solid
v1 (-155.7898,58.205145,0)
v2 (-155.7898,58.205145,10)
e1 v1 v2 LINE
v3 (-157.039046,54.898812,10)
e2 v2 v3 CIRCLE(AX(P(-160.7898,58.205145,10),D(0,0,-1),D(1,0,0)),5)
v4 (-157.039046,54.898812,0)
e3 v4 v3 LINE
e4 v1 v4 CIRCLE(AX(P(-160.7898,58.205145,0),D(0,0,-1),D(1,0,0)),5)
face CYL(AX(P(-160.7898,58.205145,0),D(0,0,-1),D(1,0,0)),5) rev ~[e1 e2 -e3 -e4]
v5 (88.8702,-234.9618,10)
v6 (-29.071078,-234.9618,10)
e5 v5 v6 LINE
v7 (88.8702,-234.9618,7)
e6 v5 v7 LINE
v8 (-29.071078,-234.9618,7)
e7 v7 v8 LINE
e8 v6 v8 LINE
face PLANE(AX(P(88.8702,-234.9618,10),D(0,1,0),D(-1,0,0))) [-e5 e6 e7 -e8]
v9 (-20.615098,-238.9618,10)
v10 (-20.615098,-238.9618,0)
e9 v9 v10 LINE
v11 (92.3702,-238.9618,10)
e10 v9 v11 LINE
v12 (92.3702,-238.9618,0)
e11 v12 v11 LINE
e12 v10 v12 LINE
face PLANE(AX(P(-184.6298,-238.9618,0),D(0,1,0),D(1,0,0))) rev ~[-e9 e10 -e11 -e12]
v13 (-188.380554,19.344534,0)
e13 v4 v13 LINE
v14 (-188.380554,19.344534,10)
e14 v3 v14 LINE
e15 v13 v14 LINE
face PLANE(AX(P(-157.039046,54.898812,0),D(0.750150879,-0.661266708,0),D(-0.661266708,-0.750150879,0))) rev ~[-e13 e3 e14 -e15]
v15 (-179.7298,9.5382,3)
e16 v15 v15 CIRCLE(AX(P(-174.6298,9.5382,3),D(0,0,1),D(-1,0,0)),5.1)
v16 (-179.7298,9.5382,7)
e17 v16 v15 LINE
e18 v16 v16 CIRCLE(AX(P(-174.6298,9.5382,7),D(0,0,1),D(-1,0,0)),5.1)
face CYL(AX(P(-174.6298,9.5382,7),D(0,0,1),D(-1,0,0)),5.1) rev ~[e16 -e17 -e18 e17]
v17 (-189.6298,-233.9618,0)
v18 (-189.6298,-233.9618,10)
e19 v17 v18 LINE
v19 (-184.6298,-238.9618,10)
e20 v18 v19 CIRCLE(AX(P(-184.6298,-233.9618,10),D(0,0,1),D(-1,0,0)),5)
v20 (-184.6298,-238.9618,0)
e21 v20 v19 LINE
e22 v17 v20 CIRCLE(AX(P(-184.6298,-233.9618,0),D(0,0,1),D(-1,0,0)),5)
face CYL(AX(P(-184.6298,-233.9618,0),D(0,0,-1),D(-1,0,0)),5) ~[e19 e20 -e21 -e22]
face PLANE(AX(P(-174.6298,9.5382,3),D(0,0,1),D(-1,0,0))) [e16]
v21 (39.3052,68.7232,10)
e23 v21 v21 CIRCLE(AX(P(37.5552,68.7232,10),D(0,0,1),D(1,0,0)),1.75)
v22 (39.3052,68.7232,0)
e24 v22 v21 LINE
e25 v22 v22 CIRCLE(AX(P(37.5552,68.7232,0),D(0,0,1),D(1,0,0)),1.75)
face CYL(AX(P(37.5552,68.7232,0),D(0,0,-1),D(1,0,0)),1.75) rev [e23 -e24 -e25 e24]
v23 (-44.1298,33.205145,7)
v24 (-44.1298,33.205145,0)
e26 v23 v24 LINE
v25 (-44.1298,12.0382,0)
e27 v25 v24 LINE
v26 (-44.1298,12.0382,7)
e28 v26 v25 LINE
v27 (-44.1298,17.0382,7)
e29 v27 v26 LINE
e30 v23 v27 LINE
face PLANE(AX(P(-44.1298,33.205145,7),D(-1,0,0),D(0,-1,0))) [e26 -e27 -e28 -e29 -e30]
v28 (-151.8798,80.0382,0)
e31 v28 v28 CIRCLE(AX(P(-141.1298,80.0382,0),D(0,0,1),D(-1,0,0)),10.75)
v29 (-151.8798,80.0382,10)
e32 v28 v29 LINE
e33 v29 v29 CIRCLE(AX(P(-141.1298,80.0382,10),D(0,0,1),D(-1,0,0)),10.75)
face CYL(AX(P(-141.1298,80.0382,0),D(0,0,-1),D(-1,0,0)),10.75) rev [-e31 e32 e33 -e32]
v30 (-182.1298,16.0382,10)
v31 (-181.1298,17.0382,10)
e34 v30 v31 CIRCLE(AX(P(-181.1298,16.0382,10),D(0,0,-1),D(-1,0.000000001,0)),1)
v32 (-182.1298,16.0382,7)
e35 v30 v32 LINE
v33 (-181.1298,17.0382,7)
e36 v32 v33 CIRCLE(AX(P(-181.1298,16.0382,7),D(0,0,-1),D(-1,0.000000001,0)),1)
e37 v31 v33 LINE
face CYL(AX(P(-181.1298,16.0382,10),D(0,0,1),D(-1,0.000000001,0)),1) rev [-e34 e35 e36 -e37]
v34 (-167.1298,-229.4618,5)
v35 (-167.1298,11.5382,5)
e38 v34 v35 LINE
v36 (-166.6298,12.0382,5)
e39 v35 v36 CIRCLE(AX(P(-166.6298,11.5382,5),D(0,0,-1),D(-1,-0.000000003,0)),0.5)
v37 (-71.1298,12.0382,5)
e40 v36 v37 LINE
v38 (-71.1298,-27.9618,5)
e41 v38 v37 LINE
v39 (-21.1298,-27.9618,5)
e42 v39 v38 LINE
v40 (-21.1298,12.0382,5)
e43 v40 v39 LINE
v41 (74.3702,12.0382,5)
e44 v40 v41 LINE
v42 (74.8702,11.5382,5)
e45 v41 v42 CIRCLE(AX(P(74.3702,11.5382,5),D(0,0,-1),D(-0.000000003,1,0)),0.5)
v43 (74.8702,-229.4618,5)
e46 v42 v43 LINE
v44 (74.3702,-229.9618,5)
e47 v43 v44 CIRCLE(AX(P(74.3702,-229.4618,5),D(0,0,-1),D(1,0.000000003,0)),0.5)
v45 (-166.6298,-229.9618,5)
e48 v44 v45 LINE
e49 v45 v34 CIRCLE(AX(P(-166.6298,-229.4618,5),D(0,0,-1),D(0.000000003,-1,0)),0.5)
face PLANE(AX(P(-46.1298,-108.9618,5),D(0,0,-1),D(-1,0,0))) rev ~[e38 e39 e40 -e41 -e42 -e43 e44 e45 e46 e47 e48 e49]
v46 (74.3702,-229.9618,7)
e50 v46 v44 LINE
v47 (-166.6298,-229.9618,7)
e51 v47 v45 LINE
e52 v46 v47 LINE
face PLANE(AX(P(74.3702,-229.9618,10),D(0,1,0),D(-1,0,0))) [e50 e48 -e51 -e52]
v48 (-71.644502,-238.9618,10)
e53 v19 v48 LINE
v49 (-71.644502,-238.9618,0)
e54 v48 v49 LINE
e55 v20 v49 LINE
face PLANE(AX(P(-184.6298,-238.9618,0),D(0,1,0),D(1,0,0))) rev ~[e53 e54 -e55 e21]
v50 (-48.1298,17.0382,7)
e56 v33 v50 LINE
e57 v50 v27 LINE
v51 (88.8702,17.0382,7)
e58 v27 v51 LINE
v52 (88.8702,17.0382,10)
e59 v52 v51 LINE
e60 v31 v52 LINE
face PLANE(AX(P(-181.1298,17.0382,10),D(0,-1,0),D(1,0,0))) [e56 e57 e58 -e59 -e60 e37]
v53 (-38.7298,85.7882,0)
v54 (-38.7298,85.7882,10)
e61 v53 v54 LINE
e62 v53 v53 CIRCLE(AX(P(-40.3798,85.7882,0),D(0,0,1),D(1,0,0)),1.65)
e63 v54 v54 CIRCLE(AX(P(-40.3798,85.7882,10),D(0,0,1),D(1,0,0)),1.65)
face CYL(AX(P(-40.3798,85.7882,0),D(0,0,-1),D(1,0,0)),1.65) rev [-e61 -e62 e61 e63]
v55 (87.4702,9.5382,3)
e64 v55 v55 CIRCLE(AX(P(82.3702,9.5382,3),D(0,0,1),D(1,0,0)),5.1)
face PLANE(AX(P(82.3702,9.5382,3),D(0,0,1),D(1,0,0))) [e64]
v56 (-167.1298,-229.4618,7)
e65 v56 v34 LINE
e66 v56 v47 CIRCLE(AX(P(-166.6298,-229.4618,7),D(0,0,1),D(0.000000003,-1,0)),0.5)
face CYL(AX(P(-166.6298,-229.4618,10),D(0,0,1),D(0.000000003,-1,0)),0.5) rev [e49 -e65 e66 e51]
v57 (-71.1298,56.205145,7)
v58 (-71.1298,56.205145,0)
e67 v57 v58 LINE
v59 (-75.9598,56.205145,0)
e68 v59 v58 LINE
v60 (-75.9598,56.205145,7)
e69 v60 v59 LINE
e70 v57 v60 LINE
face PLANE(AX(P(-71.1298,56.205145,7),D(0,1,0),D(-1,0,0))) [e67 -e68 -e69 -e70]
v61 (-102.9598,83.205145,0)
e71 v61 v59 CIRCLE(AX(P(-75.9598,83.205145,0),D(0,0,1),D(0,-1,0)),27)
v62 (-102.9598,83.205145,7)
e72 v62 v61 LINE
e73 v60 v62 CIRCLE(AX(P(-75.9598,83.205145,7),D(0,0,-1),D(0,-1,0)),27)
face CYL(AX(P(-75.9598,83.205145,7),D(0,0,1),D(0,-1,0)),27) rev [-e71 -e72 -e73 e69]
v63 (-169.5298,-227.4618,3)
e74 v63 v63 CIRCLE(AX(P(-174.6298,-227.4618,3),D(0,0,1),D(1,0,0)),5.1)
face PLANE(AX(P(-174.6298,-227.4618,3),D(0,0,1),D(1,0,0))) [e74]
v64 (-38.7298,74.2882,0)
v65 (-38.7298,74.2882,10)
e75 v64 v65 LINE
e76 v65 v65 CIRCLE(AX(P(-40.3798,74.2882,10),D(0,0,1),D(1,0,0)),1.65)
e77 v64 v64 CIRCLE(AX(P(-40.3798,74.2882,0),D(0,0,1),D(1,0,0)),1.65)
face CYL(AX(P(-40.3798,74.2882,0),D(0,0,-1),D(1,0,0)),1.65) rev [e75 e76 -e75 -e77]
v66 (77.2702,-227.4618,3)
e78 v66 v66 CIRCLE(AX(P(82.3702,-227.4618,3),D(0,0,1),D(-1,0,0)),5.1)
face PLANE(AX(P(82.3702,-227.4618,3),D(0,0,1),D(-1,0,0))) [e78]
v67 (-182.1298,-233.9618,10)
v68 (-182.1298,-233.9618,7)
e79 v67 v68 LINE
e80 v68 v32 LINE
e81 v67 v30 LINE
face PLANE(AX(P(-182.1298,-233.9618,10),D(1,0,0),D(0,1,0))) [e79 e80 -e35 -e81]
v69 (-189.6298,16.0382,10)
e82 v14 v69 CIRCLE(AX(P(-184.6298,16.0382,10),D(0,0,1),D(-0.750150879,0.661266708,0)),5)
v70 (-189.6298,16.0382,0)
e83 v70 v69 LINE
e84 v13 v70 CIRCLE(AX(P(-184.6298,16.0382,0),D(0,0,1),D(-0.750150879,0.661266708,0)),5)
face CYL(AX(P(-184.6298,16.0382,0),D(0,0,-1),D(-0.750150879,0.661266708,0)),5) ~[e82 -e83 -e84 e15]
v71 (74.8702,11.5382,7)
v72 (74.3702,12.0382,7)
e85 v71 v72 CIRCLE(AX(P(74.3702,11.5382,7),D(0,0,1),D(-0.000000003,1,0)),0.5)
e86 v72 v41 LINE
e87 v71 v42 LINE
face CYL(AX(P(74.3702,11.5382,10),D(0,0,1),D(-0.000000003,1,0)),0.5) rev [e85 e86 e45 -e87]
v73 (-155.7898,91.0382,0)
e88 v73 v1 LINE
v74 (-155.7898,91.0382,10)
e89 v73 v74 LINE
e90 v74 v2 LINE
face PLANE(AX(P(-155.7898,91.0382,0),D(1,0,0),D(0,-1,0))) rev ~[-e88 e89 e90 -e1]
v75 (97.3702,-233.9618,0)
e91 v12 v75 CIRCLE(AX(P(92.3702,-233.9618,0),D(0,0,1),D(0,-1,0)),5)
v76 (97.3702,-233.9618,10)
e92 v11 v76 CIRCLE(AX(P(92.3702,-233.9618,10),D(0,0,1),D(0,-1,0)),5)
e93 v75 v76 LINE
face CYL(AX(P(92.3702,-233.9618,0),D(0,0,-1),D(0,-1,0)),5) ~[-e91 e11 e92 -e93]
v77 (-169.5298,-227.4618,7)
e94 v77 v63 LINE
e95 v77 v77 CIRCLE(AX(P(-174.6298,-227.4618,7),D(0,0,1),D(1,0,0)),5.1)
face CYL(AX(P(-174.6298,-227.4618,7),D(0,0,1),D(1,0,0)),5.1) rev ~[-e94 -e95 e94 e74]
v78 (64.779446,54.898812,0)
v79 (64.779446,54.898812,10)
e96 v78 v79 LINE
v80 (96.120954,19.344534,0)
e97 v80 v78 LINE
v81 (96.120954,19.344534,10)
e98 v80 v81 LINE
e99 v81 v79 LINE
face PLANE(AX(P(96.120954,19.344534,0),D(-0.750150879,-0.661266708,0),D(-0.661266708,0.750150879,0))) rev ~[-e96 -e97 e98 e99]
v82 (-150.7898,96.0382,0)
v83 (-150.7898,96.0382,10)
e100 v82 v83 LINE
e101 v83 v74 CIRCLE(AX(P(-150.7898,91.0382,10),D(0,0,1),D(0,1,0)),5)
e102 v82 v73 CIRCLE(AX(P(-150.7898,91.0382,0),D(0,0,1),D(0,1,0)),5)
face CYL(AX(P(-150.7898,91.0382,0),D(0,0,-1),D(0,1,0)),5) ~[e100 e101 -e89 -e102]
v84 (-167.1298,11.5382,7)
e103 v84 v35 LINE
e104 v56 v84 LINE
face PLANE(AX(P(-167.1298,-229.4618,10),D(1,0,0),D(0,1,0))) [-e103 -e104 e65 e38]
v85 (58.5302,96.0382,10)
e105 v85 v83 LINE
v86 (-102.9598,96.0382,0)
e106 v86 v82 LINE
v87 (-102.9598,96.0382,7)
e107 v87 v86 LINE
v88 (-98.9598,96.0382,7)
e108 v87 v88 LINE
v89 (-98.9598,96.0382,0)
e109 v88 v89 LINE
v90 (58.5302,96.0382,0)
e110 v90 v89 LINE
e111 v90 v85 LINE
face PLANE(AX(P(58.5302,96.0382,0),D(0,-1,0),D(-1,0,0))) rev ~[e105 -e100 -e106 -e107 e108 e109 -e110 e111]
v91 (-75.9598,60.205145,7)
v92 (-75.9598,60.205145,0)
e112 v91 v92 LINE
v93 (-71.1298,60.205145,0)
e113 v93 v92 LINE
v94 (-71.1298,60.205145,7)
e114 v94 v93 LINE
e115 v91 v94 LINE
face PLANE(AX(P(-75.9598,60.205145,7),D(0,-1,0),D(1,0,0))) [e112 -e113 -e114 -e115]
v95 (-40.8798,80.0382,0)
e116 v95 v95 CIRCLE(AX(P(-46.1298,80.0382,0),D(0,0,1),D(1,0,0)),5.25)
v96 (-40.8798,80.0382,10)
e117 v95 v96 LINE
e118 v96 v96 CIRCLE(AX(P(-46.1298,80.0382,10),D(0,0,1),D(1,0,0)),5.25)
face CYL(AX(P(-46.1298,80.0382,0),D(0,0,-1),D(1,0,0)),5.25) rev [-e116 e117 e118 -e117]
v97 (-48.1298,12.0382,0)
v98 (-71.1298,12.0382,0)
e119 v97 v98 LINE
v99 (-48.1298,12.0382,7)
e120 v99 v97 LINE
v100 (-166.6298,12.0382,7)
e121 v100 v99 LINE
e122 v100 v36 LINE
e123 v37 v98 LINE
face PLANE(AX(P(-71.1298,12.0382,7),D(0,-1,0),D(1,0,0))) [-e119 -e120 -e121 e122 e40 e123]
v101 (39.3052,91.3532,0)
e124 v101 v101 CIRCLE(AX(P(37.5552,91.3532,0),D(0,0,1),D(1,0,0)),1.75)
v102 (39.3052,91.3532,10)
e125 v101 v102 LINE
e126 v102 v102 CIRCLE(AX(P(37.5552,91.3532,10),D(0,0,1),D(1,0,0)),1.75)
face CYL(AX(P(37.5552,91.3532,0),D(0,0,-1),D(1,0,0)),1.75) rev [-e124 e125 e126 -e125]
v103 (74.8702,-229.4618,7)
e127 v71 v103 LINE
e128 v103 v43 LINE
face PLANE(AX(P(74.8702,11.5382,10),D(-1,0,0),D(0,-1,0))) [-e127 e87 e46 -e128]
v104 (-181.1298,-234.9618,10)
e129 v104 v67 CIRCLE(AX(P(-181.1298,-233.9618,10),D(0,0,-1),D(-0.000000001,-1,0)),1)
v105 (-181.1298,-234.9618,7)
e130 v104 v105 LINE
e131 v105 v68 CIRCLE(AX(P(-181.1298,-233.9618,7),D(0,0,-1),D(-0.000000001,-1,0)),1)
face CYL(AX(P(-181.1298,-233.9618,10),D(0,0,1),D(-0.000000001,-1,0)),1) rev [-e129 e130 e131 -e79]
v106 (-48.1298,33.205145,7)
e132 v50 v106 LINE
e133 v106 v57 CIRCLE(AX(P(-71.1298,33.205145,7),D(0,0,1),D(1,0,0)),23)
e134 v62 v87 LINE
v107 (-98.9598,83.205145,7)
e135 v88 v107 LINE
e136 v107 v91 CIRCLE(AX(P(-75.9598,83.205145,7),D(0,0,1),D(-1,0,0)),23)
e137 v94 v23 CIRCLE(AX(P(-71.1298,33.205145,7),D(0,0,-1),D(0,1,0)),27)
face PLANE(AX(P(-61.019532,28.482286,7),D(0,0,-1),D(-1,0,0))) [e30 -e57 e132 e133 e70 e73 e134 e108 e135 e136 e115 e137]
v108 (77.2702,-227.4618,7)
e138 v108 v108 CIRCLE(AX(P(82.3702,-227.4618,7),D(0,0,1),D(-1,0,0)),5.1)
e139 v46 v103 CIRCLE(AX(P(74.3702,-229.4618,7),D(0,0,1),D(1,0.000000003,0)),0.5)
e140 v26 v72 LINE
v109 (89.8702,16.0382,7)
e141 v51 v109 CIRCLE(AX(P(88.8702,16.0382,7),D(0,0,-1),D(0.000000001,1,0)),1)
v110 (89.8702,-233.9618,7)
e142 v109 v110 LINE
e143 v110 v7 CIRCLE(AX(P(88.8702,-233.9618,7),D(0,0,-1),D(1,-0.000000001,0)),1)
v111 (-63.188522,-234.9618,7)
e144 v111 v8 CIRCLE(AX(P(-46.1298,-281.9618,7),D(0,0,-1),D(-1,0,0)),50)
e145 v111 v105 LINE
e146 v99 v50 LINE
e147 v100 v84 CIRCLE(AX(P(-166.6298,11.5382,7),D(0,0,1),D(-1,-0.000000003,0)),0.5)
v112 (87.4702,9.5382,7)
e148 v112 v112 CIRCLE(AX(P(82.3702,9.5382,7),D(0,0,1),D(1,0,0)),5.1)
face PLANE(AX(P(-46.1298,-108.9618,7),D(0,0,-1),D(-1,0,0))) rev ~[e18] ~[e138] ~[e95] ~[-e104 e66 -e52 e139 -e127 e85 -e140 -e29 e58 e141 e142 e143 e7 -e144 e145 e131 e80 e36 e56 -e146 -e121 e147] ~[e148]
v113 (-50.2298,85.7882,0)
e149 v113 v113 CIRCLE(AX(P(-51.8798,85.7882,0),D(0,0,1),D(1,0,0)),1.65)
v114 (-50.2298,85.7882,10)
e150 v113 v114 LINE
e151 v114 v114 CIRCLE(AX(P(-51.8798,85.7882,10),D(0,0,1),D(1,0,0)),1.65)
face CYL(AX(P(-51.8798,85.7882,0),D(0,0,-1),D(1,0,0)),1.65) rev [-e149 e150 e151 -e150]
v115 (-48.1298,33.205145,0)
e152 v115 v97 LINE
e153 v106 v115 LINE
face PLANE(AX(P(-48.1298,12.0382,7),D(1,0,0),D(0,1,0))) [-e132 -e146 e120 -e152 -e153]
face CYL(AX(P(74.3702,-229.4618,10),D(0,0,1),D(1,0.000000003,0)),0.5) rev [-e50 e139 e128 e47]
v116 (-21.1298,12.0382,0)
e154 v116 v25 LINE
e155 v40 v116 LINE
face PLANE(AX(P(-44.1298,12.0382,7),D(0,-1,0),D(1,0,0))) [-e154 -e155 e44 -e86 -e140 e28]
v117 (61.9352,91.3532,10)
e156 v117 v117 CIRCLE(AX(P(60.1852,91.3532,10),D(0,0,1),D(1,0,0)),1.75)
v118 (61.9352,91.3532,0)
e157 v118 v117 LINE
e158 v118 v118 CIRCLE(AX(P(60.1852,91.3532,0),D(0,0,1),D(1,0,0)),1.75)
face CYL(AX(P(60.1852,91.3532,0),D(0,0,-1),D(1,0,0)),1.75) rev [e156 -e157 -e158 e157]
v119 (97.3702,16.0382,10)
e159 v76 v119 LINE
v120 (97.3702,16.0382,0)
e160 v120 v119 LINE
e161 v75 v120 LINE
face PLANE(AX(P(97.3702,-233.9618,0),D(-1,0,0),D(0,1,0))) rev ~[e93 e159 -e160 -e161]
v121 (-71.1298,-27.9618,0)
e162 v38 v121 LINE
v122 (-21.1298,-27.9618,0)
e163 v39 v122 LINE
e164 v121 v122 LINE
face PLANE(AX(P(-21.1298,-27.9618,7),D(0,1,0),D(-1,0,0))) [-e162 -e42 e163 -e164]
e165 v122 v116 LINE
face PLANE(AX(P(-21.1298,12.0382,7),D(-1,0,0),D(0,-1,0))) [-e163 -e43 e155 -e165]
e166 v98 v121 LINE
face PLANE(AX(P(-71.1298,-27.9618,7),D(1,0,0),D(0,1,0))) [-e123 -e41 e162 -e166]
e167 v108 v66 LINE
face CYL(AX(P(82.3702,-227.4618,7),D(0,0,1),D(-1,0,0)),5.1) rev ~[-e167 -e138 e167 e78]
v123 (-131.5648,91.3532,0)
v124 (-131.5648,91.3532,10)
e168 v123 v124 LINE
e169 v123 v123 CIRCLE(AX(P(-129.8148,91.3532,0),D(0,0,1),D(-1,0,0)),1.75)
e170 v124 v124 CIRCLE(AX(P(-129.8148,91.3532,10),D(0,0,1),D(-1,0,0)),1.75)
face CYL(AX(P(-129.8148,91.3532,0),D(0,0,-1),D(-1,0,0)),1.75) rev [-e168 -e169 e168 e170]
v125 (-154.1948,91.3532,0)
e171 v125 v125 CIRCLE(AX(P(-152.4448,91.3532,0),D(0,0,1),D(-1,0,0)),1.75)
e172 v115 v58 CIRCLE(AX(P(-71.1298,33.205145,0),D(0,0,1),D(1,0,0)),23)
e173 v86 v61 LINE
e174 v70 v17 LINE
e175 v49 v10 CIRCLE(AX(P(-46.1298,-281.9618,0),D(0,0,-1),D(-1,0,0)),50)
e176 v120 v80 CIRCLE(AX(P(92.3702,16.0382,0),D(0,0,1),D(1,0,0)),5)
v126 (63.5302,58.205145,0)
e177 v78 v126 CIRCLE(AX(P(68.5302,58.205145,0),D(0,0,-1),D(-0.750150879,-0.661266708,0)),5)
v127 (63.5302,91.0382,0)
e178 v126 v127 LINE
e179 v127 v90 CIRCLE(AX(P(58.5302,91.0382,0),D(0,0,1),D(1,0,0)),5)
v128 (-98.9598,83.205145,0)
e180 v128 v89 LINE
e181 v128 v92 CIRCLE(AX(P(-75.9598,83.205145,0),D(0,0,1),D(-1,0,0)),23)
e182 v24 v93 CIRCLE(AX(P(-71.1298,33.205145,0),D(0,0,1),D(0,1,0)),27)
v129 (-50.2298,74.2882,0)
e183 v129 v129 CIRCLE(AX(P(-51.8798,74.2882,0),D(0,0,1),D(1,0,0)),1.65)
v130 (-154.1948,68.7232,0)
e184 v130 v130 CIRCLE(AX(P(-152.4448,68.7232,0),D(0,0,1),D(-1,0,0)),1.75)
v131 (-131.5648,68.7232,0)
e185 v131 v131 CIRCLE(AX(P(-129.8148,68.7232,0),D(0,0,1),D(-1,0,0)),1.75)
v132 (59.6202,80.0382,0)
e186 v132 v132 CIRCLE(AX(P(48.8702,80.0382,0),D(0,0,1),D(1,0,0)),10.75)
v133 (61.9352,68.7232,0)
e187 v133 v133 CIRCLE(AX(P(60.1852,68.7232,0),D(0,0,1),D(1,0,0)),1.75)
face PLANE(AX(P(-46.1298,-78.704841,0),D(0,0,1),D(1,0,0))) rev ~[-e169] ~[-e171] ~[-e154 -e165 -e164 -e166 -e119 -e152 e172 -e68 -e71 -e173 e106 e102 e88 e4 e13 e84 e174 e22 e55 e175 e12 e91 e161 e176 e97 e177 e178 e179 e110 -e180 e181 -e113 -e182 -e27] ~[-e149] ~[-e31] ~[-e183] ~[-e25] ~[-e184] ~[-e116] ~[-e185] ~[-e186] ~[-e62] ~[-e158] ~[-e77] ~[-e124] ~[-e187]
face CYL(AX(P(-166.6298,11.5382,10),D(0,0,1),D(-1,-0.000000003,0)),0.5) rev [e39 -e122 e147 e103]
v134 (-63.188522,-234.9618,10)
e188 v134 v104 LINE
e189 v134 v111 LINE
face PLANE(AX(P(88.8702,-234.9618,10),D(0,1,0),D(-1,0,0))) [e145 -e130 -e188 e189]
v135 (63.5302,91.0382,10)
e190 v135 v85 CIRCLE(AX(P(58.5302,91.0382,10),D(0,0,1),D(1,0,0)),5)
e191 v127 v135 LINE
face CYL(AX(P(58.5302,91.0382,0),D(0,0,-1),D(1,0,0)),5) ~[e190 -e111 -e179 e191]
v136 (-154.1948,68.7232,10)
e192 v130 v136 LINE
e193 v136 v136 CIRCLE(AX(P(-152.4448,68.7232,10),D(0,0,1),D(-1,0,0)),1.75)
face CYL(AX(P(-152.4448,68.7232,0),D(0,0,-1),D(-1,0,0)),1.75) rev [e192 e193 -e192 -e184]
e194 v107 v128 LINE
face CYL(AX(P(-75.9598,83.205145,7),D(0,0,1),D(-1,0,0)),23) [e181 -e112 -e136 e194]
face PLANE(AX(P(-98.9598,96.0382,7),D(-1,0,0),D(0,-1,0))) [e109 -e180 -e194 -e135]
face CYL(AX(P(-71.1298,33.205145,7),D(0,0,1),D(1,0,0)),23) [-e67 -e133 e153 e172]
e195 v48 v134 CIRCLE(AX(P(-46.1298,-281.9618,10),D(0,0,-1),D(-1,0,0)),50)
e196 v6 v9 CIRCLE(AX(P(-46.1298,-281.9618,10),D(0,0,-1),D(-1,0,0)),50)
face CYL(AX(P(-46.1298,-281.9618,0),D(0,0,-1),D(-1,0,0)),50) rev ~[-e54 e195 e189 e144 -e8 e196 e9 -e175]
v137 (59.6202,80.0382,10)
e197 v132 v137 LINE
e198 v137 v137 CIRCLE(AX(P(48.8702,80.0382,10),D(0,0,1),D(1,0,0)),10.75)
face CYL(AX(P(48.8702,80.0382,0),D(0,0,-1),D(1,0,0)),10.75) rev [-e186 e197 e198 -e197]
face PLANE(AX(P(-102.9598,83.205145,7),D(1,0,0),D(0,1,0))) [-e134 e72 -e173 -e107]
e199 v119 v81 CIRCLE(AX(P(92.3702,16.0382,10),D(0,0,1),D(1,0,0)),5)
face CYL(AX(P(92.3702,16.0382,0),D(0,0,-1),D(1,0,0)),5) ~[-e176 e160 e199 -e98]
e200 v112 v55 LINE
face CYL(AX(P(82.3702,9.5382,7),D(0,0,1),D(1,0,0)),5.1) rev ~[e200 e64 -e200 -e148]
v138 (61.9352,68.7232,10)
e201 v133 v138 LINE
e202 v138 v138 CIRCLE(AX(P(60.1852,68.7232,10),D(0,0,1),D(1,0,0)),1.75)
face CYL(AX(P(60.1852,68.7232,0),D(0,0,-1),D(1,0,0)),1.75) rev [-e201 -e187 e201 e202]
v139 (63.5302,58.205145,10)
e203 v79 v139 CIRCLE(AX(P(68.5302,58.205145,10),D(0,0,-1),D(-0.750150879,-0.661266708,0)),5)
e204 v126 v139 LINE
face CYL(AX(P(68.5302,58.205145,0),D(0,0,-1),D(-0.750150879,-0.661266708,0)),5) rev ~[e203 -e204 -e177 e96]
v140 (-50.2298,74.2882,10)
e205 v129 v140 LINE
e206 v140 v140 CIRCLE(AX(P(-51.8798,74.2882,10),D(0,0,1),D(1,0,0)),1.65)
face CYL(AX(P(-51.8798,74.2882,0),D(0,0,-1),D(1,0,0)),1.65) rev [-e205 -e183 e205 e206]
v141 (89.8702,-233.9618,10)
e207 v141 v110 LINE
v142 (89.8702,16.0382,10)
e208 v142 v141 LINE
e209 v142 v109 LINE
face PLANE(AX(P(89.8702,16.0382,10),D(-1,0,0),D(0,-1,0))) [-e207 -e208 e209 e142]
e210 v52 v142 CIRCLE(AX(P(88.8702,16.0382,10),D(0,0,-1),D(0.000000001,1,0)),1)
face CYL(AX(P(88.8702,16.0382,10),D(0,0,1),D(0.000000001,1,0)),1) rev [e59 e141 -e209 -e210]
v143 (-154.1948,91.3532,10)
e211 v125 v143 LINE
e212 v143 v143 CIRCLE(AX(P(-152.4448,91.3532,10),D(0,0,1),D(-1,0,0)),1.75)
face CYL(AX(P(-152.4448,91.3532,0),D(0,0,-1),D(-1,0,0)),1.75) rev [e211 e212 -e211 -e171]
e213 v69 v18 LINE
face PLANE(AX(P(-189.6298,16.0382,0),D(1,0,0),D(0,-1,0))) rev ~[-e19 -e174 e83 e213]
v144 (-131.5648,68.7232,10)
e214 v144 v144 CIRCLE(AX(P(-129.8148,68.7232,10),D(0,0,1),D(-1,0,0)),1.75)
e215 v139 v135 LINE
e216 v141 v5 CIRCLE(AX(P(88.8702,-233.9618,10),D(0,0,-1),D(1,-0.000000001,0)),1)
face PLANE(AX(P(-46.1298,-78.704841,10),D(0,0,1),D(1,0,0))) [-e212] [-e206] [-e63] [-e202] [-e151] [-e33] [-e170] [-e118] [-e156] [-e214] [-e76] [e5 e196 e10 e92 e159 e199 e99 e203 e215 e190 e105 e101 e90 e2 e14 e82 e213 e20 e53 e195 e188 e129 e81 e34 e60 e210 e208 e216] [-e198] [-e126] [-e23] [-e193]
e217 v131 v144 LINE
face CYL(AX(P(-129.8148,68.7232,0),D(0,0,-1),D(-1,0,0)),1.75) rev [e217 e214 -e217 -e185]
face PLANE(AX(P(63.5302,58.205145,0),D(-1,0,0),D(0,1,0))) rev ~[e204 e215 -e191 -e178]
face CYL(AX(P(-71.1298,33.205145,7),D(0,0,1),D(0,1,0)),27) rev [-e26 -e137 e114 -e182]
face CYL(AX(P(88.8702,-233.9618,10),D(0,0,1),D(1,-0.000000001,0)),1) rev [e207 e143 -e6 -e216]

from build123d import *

# Parameters (mm, degrees)
MODEL_R                 = 10.75
MODEL_R_2               = 1.75
MODEL_R_3               = 5.25
MODEL_R_4               = 1.65
SALIENTE_EXTRUIR1_DEPTH = 10
CORTAR_EXTRUIR1_DEPTH   = 5
CORTAR_EXTRUIR2_DEPTH   = 3
CROQUIS3_R              = 5.1
CORTAR_EXTRUIR3_DEPTH   = 4
CORTAR_EXTRUIR4_REACH   = 307.225
CROQUIS4_R              = 50
CORTAR_EXTRUIR5_REACH   = 307.141


with BuildPart() as part:
    # Model → Saliente-Extruir1 (new body)
    with BuildSketch(Plane.XY):
        with BuildLine():
            Line((-155.7898, 91.0382), (-155.7898, 58.205145042))
            ThreePointArc((-155.7898, 58.205145042), (-156.112526651, 56.437911606), (-157.039045607, 54.898811501))
            Line((-157.039045607, 54.898811501), (-188.380554393, 19.344533541))
            ThreePointArc((-188.380554393, 19.344533541), (-189.307073349, 17.805433436), (-189.6298, 16.0382))
            Line((-189.6298, 16.0382), (-189.6298, -233.9618))
            ThreePointArc((-189.6298, -233.9618), (-188.165333906, -237.497333906), (-184.6298, -238.9618))
            Line((-184.6298, -238.9618), (92.3702, -238.9618))
            ThreePointArc((92.3702, -238.9618), (95.905733906, -237.497333906), (97.3702, -233.9618))
            Line((97.3702, -233.9618), (97.3702, 16.0382))
            ThreePointArc((97.3702, 16.0382), (97.047473349, 17.805433436), (96.120954393, 19.344533541))
            Line((96.120954393, 19.344533541), (64.779445607, 54.898811501))
            ThreePointArc((64.779445607, 54.898811501), (63.852926651, 56.437911606), (63.5302, 58.205145042))
            Line((63.5302, 58.205145042), (63.5302, 91.0382))
            ThreePointArc((63.5302, 91.0382), (62.065733906, 94.573733906), (58.5302, 96.0382))
            Line((58.5302, 96.0382), (-150.7898, 96.0382))
            ThreePointArc((-150.7898, 96.0382), (-154.325333906, 94.573733906), (-155.7898, 91.0382))
        make_face()
        with Locations((48.8702, 80.0382)):
            Circle(MODEL_R, mode=Mode.SUBTRACT)
        with Locations((37.5552, 68.7232)):
            Circle(MODEL_R_2, mode=Mode.SUBTRACT)
        with Locations((60.1852, 68.7232)):
            Circle(MODEL_R_2, mode=Mode.SUBTRACT)
        with Locations((60.1852, 91.3532)):
            Circle(MODEL_R_2, mode=Mode.SUBTRACT)
        with Locations((37.5552, 91.3532)):
            Circle(MODEL_R_2, mode=Mode.SUBTRACT)
        with Locations(Location((-129.8148, 91.3532, 0), (0, 0, 180))):
            Circle(MODEL_R_2, mode=Mode.SUBTRACT)
        with Locations(Location((-152.4448, 91.3532, 0), (0, 0, 180))):
            Circle(MODEL_R_2, mode=Mode.SUBTRACT)
        with Locations(Location((-152.4448, 68.7232, 0), (0, 0, 180))):
            Circle(MODEL_R_2, mode=Mode.SUBTRACT)
        with Locations(Location((-129.8148, 68.7232, 0), (0, 0, 180))):
            Circle(MODEL_R_2, mode=Mode.SUBTRACT)
        with Locations(Location((-141.1298, 80.0382, 0), (0, 0, 180))):
            Circle(MODEL_R, mode=Mode.SUBTRACT)
        with Locations((-46.1298, 80.0382)):
            Circle(MODEL_R_3, mode=Mode.SUBTRACT)
        with Locations((-51.8798, 85.7882)):
            Circle(MODEL_R_4, mode=Mode.SUBTRACT)
        with Locations((-40.3798, 85.7882)):
            Circle(MODEL_R_4, mode=Mode.SUBTRACT)
        with Locations((-40.3798, 74.2882)):
            Circle(MODEL_R_4, mode=Mode.SUBTRACT)
        with Locations((-51.8798, 74.2882)):
            Circle(MODEL_R_4, mode=Mode.SUBTRACT)
    extrude(amount=SALIENTE_EXTRUIR1_DEPTH)

    # Croquis1 → Cortar-Extruir1 (cut)
    with BuildSketch(Plane.XY.offset(10)):
        with BuildLine():
            Line((-167.1298, -229.4618), (-167.1298, 11.5382))
            ThreePointArc((-167.1298, 11.5382), (-166.983353391, 11.891753391), (-166.6298, 12.0382))
            Line((-166.6298, 12.0382), (74.3702, 12.0382))
            ThreePointArc((74.3702, 12.0382), (74.723753391, 11.891753391), (74.8702, 11.5382))
            Line((74.8702, 11.5382), (74.8702, -229.4618))
            ThreePointArc((74.8702, -229.4618), (74.723753391, -229.815353391), (74.3702, -229.9618))
            Line((74.3702, -229.9618), (-166.6298, -229.9618))
            ThreePointArc((-166.6298, -229.9618), (-166.983353391, -229.815353391), (-167.1298, -229.4618))
        make_face()
    extrude(amount=-CORTAR_EXTRUIR1_DEPTH, mode=Mode.SUBTRACT)

    # Croquis2 → Cortar-Extruir2 (cut)
    with BuildSketch(Plane.XY.offset(10)):
        with BuildLine():
            Line((-182.1298, -233.9618), (-182.1298, 16.0382))
            ThreePointArc((-182.1298, 16.0382), (-181.836906781, 16.745306781), (-181.1298, 17.0382))
            Line((-181.1298, 17.0382), (88.8702, 17.0382))
            ThreePointArc((88.8702, 17.0382), (89.577306781, 16.745306781), (89.8702, 16.0382))
            Line((89.8702, 16.0382), (89.8702, -233.9618))
            ThreePointArc((89.8702, -233.9618), (89.577306781, -234.668906781), (88.8702, -234.9618))
            Line((88.8702, -234.9618), (-181.1298, -234.9618))
            ThreePointArc((-181.1298, -234.9618), (-181.836906781, -234.668906781), (-182.1298, -233.9618))
        make_face()
    extrude(amount=-CORTAR_EXTRUIR2_DEPTH, mode=Mode.SUBTRACT)

    # Croquis3 → Cortar-Extruir3 (cut)
    with BuildSketch(Plane.XY.offset(7)):
        with Locations((-174.6298, -227.4618)):
            Circle(CROQUIS3_R)
        with Locations(Location((82.3702, -227.4618, 0), (0, 0, 180))):
            Circle(CROQUIS3_R)
        with Locations(Location((-174.6298, 9.5382, 0), (0, 0, 180))):
            Circle(CROQUIS3_R)
        with Locations((82.3702, 9.5382)):
            Circle(CROQUIS3_R)
    extrude(amount=-CORTAR_EXTRUIR3_DEPTH, mode=Mode.SUBTRACT)

    # Croquis4 → Cortar-Extruir4 (cut, up to next)
    with BuildSketch(Plane(origin=(0, 0, 0), x_dir=(-1, 0, 0), z_dir=(0, 0, -1)), mode=Mode.PRIVATE) as cortar_extruir4_sk1:
        with Locations((46.1298, -281.9618)):
            Circle(CROQUIS4_R)
    cortar_extruir4_tool1 = extrude(cortar_extruir4_sk1.sketch, amount=-CORTAR_EXTRUIR4_REACH, mode=Mode.PRIVATE) & part.part
    add(cortar_extruir4_tool1.solids().sort_by_distance((-46.1298, -281.9618, 0))[0], mode=Mode.SUBTRACT)

    # Croquis5 → Cortar-Extruir5 (cut, up to next)
    with BuildSketch(Plane.XY.offset(7), mode=Mode.PRIVATE) as cortar_extruir5_sk1:
        with BuildLine():
            Line((-71.1298, -27.9618), (-71.1298, 12.0382))
            Line((-71.1298, 12.0382), (-48.1298, 12.0382))
            Line((-48.1298, 12.0382), (-48.1298, 33.205145042))
            ThreePointArc((-48.1298, 33.205145042), (-54.866344033, 49.468601009), (-71.1298, 56.205145042))
            Line((-71.1298, 56.205145042), (-75.9598, 56.205145042))
            ThreePointArc((-75.9598, 56.205145042), (-95.051683092, 64.11326195), (-102.9598, 83.205145042))
            Line((-102.9598, 83.205145042), (-102.9598, 96.0382))
            Line((-102.9598, 96.0382), (-98.9598, 96.0382))
            Line((-98.9598, 96.0382), (-98.9598, 83.205145042))
            ThreePointArc((-98.9598, 83.205145042), (-92.223255967, 66.941689074), (-75.9598, 60.205145042))
            Line((-75.9598, 60.205145042), (-71.1298, 60.205145042))
            ThreePointArc((-71.1298, 60.205145042), (-52.037916908, 52.297028134), (-44.1298, 33.205145042))
            Line((-44.1298, 33.205145042), (-44.1298, 12.0382))
            Line((-44.1298, 12.0382), (-21.1298, 12.0382))
            Line((-21.1298, 12.0382), (-21.1298, -27.9618))
            Line((-21.1298, -27.9618), (-71.1298, -27.9618))
        make_face()
    cortar_extruir5_tool1 = extrude(cortar_extruir5_sk1.sketch, amount=-CORTAR_EXTRUIR5_REACH, mode=Mode.PRIVATE) & part.part
    add(cortar_extruir5_tool1.solids().sort_by_distance((-50.971663, 4.050415, 7))[0], mode=Mode.SUBTRACT)


solid = part.part
